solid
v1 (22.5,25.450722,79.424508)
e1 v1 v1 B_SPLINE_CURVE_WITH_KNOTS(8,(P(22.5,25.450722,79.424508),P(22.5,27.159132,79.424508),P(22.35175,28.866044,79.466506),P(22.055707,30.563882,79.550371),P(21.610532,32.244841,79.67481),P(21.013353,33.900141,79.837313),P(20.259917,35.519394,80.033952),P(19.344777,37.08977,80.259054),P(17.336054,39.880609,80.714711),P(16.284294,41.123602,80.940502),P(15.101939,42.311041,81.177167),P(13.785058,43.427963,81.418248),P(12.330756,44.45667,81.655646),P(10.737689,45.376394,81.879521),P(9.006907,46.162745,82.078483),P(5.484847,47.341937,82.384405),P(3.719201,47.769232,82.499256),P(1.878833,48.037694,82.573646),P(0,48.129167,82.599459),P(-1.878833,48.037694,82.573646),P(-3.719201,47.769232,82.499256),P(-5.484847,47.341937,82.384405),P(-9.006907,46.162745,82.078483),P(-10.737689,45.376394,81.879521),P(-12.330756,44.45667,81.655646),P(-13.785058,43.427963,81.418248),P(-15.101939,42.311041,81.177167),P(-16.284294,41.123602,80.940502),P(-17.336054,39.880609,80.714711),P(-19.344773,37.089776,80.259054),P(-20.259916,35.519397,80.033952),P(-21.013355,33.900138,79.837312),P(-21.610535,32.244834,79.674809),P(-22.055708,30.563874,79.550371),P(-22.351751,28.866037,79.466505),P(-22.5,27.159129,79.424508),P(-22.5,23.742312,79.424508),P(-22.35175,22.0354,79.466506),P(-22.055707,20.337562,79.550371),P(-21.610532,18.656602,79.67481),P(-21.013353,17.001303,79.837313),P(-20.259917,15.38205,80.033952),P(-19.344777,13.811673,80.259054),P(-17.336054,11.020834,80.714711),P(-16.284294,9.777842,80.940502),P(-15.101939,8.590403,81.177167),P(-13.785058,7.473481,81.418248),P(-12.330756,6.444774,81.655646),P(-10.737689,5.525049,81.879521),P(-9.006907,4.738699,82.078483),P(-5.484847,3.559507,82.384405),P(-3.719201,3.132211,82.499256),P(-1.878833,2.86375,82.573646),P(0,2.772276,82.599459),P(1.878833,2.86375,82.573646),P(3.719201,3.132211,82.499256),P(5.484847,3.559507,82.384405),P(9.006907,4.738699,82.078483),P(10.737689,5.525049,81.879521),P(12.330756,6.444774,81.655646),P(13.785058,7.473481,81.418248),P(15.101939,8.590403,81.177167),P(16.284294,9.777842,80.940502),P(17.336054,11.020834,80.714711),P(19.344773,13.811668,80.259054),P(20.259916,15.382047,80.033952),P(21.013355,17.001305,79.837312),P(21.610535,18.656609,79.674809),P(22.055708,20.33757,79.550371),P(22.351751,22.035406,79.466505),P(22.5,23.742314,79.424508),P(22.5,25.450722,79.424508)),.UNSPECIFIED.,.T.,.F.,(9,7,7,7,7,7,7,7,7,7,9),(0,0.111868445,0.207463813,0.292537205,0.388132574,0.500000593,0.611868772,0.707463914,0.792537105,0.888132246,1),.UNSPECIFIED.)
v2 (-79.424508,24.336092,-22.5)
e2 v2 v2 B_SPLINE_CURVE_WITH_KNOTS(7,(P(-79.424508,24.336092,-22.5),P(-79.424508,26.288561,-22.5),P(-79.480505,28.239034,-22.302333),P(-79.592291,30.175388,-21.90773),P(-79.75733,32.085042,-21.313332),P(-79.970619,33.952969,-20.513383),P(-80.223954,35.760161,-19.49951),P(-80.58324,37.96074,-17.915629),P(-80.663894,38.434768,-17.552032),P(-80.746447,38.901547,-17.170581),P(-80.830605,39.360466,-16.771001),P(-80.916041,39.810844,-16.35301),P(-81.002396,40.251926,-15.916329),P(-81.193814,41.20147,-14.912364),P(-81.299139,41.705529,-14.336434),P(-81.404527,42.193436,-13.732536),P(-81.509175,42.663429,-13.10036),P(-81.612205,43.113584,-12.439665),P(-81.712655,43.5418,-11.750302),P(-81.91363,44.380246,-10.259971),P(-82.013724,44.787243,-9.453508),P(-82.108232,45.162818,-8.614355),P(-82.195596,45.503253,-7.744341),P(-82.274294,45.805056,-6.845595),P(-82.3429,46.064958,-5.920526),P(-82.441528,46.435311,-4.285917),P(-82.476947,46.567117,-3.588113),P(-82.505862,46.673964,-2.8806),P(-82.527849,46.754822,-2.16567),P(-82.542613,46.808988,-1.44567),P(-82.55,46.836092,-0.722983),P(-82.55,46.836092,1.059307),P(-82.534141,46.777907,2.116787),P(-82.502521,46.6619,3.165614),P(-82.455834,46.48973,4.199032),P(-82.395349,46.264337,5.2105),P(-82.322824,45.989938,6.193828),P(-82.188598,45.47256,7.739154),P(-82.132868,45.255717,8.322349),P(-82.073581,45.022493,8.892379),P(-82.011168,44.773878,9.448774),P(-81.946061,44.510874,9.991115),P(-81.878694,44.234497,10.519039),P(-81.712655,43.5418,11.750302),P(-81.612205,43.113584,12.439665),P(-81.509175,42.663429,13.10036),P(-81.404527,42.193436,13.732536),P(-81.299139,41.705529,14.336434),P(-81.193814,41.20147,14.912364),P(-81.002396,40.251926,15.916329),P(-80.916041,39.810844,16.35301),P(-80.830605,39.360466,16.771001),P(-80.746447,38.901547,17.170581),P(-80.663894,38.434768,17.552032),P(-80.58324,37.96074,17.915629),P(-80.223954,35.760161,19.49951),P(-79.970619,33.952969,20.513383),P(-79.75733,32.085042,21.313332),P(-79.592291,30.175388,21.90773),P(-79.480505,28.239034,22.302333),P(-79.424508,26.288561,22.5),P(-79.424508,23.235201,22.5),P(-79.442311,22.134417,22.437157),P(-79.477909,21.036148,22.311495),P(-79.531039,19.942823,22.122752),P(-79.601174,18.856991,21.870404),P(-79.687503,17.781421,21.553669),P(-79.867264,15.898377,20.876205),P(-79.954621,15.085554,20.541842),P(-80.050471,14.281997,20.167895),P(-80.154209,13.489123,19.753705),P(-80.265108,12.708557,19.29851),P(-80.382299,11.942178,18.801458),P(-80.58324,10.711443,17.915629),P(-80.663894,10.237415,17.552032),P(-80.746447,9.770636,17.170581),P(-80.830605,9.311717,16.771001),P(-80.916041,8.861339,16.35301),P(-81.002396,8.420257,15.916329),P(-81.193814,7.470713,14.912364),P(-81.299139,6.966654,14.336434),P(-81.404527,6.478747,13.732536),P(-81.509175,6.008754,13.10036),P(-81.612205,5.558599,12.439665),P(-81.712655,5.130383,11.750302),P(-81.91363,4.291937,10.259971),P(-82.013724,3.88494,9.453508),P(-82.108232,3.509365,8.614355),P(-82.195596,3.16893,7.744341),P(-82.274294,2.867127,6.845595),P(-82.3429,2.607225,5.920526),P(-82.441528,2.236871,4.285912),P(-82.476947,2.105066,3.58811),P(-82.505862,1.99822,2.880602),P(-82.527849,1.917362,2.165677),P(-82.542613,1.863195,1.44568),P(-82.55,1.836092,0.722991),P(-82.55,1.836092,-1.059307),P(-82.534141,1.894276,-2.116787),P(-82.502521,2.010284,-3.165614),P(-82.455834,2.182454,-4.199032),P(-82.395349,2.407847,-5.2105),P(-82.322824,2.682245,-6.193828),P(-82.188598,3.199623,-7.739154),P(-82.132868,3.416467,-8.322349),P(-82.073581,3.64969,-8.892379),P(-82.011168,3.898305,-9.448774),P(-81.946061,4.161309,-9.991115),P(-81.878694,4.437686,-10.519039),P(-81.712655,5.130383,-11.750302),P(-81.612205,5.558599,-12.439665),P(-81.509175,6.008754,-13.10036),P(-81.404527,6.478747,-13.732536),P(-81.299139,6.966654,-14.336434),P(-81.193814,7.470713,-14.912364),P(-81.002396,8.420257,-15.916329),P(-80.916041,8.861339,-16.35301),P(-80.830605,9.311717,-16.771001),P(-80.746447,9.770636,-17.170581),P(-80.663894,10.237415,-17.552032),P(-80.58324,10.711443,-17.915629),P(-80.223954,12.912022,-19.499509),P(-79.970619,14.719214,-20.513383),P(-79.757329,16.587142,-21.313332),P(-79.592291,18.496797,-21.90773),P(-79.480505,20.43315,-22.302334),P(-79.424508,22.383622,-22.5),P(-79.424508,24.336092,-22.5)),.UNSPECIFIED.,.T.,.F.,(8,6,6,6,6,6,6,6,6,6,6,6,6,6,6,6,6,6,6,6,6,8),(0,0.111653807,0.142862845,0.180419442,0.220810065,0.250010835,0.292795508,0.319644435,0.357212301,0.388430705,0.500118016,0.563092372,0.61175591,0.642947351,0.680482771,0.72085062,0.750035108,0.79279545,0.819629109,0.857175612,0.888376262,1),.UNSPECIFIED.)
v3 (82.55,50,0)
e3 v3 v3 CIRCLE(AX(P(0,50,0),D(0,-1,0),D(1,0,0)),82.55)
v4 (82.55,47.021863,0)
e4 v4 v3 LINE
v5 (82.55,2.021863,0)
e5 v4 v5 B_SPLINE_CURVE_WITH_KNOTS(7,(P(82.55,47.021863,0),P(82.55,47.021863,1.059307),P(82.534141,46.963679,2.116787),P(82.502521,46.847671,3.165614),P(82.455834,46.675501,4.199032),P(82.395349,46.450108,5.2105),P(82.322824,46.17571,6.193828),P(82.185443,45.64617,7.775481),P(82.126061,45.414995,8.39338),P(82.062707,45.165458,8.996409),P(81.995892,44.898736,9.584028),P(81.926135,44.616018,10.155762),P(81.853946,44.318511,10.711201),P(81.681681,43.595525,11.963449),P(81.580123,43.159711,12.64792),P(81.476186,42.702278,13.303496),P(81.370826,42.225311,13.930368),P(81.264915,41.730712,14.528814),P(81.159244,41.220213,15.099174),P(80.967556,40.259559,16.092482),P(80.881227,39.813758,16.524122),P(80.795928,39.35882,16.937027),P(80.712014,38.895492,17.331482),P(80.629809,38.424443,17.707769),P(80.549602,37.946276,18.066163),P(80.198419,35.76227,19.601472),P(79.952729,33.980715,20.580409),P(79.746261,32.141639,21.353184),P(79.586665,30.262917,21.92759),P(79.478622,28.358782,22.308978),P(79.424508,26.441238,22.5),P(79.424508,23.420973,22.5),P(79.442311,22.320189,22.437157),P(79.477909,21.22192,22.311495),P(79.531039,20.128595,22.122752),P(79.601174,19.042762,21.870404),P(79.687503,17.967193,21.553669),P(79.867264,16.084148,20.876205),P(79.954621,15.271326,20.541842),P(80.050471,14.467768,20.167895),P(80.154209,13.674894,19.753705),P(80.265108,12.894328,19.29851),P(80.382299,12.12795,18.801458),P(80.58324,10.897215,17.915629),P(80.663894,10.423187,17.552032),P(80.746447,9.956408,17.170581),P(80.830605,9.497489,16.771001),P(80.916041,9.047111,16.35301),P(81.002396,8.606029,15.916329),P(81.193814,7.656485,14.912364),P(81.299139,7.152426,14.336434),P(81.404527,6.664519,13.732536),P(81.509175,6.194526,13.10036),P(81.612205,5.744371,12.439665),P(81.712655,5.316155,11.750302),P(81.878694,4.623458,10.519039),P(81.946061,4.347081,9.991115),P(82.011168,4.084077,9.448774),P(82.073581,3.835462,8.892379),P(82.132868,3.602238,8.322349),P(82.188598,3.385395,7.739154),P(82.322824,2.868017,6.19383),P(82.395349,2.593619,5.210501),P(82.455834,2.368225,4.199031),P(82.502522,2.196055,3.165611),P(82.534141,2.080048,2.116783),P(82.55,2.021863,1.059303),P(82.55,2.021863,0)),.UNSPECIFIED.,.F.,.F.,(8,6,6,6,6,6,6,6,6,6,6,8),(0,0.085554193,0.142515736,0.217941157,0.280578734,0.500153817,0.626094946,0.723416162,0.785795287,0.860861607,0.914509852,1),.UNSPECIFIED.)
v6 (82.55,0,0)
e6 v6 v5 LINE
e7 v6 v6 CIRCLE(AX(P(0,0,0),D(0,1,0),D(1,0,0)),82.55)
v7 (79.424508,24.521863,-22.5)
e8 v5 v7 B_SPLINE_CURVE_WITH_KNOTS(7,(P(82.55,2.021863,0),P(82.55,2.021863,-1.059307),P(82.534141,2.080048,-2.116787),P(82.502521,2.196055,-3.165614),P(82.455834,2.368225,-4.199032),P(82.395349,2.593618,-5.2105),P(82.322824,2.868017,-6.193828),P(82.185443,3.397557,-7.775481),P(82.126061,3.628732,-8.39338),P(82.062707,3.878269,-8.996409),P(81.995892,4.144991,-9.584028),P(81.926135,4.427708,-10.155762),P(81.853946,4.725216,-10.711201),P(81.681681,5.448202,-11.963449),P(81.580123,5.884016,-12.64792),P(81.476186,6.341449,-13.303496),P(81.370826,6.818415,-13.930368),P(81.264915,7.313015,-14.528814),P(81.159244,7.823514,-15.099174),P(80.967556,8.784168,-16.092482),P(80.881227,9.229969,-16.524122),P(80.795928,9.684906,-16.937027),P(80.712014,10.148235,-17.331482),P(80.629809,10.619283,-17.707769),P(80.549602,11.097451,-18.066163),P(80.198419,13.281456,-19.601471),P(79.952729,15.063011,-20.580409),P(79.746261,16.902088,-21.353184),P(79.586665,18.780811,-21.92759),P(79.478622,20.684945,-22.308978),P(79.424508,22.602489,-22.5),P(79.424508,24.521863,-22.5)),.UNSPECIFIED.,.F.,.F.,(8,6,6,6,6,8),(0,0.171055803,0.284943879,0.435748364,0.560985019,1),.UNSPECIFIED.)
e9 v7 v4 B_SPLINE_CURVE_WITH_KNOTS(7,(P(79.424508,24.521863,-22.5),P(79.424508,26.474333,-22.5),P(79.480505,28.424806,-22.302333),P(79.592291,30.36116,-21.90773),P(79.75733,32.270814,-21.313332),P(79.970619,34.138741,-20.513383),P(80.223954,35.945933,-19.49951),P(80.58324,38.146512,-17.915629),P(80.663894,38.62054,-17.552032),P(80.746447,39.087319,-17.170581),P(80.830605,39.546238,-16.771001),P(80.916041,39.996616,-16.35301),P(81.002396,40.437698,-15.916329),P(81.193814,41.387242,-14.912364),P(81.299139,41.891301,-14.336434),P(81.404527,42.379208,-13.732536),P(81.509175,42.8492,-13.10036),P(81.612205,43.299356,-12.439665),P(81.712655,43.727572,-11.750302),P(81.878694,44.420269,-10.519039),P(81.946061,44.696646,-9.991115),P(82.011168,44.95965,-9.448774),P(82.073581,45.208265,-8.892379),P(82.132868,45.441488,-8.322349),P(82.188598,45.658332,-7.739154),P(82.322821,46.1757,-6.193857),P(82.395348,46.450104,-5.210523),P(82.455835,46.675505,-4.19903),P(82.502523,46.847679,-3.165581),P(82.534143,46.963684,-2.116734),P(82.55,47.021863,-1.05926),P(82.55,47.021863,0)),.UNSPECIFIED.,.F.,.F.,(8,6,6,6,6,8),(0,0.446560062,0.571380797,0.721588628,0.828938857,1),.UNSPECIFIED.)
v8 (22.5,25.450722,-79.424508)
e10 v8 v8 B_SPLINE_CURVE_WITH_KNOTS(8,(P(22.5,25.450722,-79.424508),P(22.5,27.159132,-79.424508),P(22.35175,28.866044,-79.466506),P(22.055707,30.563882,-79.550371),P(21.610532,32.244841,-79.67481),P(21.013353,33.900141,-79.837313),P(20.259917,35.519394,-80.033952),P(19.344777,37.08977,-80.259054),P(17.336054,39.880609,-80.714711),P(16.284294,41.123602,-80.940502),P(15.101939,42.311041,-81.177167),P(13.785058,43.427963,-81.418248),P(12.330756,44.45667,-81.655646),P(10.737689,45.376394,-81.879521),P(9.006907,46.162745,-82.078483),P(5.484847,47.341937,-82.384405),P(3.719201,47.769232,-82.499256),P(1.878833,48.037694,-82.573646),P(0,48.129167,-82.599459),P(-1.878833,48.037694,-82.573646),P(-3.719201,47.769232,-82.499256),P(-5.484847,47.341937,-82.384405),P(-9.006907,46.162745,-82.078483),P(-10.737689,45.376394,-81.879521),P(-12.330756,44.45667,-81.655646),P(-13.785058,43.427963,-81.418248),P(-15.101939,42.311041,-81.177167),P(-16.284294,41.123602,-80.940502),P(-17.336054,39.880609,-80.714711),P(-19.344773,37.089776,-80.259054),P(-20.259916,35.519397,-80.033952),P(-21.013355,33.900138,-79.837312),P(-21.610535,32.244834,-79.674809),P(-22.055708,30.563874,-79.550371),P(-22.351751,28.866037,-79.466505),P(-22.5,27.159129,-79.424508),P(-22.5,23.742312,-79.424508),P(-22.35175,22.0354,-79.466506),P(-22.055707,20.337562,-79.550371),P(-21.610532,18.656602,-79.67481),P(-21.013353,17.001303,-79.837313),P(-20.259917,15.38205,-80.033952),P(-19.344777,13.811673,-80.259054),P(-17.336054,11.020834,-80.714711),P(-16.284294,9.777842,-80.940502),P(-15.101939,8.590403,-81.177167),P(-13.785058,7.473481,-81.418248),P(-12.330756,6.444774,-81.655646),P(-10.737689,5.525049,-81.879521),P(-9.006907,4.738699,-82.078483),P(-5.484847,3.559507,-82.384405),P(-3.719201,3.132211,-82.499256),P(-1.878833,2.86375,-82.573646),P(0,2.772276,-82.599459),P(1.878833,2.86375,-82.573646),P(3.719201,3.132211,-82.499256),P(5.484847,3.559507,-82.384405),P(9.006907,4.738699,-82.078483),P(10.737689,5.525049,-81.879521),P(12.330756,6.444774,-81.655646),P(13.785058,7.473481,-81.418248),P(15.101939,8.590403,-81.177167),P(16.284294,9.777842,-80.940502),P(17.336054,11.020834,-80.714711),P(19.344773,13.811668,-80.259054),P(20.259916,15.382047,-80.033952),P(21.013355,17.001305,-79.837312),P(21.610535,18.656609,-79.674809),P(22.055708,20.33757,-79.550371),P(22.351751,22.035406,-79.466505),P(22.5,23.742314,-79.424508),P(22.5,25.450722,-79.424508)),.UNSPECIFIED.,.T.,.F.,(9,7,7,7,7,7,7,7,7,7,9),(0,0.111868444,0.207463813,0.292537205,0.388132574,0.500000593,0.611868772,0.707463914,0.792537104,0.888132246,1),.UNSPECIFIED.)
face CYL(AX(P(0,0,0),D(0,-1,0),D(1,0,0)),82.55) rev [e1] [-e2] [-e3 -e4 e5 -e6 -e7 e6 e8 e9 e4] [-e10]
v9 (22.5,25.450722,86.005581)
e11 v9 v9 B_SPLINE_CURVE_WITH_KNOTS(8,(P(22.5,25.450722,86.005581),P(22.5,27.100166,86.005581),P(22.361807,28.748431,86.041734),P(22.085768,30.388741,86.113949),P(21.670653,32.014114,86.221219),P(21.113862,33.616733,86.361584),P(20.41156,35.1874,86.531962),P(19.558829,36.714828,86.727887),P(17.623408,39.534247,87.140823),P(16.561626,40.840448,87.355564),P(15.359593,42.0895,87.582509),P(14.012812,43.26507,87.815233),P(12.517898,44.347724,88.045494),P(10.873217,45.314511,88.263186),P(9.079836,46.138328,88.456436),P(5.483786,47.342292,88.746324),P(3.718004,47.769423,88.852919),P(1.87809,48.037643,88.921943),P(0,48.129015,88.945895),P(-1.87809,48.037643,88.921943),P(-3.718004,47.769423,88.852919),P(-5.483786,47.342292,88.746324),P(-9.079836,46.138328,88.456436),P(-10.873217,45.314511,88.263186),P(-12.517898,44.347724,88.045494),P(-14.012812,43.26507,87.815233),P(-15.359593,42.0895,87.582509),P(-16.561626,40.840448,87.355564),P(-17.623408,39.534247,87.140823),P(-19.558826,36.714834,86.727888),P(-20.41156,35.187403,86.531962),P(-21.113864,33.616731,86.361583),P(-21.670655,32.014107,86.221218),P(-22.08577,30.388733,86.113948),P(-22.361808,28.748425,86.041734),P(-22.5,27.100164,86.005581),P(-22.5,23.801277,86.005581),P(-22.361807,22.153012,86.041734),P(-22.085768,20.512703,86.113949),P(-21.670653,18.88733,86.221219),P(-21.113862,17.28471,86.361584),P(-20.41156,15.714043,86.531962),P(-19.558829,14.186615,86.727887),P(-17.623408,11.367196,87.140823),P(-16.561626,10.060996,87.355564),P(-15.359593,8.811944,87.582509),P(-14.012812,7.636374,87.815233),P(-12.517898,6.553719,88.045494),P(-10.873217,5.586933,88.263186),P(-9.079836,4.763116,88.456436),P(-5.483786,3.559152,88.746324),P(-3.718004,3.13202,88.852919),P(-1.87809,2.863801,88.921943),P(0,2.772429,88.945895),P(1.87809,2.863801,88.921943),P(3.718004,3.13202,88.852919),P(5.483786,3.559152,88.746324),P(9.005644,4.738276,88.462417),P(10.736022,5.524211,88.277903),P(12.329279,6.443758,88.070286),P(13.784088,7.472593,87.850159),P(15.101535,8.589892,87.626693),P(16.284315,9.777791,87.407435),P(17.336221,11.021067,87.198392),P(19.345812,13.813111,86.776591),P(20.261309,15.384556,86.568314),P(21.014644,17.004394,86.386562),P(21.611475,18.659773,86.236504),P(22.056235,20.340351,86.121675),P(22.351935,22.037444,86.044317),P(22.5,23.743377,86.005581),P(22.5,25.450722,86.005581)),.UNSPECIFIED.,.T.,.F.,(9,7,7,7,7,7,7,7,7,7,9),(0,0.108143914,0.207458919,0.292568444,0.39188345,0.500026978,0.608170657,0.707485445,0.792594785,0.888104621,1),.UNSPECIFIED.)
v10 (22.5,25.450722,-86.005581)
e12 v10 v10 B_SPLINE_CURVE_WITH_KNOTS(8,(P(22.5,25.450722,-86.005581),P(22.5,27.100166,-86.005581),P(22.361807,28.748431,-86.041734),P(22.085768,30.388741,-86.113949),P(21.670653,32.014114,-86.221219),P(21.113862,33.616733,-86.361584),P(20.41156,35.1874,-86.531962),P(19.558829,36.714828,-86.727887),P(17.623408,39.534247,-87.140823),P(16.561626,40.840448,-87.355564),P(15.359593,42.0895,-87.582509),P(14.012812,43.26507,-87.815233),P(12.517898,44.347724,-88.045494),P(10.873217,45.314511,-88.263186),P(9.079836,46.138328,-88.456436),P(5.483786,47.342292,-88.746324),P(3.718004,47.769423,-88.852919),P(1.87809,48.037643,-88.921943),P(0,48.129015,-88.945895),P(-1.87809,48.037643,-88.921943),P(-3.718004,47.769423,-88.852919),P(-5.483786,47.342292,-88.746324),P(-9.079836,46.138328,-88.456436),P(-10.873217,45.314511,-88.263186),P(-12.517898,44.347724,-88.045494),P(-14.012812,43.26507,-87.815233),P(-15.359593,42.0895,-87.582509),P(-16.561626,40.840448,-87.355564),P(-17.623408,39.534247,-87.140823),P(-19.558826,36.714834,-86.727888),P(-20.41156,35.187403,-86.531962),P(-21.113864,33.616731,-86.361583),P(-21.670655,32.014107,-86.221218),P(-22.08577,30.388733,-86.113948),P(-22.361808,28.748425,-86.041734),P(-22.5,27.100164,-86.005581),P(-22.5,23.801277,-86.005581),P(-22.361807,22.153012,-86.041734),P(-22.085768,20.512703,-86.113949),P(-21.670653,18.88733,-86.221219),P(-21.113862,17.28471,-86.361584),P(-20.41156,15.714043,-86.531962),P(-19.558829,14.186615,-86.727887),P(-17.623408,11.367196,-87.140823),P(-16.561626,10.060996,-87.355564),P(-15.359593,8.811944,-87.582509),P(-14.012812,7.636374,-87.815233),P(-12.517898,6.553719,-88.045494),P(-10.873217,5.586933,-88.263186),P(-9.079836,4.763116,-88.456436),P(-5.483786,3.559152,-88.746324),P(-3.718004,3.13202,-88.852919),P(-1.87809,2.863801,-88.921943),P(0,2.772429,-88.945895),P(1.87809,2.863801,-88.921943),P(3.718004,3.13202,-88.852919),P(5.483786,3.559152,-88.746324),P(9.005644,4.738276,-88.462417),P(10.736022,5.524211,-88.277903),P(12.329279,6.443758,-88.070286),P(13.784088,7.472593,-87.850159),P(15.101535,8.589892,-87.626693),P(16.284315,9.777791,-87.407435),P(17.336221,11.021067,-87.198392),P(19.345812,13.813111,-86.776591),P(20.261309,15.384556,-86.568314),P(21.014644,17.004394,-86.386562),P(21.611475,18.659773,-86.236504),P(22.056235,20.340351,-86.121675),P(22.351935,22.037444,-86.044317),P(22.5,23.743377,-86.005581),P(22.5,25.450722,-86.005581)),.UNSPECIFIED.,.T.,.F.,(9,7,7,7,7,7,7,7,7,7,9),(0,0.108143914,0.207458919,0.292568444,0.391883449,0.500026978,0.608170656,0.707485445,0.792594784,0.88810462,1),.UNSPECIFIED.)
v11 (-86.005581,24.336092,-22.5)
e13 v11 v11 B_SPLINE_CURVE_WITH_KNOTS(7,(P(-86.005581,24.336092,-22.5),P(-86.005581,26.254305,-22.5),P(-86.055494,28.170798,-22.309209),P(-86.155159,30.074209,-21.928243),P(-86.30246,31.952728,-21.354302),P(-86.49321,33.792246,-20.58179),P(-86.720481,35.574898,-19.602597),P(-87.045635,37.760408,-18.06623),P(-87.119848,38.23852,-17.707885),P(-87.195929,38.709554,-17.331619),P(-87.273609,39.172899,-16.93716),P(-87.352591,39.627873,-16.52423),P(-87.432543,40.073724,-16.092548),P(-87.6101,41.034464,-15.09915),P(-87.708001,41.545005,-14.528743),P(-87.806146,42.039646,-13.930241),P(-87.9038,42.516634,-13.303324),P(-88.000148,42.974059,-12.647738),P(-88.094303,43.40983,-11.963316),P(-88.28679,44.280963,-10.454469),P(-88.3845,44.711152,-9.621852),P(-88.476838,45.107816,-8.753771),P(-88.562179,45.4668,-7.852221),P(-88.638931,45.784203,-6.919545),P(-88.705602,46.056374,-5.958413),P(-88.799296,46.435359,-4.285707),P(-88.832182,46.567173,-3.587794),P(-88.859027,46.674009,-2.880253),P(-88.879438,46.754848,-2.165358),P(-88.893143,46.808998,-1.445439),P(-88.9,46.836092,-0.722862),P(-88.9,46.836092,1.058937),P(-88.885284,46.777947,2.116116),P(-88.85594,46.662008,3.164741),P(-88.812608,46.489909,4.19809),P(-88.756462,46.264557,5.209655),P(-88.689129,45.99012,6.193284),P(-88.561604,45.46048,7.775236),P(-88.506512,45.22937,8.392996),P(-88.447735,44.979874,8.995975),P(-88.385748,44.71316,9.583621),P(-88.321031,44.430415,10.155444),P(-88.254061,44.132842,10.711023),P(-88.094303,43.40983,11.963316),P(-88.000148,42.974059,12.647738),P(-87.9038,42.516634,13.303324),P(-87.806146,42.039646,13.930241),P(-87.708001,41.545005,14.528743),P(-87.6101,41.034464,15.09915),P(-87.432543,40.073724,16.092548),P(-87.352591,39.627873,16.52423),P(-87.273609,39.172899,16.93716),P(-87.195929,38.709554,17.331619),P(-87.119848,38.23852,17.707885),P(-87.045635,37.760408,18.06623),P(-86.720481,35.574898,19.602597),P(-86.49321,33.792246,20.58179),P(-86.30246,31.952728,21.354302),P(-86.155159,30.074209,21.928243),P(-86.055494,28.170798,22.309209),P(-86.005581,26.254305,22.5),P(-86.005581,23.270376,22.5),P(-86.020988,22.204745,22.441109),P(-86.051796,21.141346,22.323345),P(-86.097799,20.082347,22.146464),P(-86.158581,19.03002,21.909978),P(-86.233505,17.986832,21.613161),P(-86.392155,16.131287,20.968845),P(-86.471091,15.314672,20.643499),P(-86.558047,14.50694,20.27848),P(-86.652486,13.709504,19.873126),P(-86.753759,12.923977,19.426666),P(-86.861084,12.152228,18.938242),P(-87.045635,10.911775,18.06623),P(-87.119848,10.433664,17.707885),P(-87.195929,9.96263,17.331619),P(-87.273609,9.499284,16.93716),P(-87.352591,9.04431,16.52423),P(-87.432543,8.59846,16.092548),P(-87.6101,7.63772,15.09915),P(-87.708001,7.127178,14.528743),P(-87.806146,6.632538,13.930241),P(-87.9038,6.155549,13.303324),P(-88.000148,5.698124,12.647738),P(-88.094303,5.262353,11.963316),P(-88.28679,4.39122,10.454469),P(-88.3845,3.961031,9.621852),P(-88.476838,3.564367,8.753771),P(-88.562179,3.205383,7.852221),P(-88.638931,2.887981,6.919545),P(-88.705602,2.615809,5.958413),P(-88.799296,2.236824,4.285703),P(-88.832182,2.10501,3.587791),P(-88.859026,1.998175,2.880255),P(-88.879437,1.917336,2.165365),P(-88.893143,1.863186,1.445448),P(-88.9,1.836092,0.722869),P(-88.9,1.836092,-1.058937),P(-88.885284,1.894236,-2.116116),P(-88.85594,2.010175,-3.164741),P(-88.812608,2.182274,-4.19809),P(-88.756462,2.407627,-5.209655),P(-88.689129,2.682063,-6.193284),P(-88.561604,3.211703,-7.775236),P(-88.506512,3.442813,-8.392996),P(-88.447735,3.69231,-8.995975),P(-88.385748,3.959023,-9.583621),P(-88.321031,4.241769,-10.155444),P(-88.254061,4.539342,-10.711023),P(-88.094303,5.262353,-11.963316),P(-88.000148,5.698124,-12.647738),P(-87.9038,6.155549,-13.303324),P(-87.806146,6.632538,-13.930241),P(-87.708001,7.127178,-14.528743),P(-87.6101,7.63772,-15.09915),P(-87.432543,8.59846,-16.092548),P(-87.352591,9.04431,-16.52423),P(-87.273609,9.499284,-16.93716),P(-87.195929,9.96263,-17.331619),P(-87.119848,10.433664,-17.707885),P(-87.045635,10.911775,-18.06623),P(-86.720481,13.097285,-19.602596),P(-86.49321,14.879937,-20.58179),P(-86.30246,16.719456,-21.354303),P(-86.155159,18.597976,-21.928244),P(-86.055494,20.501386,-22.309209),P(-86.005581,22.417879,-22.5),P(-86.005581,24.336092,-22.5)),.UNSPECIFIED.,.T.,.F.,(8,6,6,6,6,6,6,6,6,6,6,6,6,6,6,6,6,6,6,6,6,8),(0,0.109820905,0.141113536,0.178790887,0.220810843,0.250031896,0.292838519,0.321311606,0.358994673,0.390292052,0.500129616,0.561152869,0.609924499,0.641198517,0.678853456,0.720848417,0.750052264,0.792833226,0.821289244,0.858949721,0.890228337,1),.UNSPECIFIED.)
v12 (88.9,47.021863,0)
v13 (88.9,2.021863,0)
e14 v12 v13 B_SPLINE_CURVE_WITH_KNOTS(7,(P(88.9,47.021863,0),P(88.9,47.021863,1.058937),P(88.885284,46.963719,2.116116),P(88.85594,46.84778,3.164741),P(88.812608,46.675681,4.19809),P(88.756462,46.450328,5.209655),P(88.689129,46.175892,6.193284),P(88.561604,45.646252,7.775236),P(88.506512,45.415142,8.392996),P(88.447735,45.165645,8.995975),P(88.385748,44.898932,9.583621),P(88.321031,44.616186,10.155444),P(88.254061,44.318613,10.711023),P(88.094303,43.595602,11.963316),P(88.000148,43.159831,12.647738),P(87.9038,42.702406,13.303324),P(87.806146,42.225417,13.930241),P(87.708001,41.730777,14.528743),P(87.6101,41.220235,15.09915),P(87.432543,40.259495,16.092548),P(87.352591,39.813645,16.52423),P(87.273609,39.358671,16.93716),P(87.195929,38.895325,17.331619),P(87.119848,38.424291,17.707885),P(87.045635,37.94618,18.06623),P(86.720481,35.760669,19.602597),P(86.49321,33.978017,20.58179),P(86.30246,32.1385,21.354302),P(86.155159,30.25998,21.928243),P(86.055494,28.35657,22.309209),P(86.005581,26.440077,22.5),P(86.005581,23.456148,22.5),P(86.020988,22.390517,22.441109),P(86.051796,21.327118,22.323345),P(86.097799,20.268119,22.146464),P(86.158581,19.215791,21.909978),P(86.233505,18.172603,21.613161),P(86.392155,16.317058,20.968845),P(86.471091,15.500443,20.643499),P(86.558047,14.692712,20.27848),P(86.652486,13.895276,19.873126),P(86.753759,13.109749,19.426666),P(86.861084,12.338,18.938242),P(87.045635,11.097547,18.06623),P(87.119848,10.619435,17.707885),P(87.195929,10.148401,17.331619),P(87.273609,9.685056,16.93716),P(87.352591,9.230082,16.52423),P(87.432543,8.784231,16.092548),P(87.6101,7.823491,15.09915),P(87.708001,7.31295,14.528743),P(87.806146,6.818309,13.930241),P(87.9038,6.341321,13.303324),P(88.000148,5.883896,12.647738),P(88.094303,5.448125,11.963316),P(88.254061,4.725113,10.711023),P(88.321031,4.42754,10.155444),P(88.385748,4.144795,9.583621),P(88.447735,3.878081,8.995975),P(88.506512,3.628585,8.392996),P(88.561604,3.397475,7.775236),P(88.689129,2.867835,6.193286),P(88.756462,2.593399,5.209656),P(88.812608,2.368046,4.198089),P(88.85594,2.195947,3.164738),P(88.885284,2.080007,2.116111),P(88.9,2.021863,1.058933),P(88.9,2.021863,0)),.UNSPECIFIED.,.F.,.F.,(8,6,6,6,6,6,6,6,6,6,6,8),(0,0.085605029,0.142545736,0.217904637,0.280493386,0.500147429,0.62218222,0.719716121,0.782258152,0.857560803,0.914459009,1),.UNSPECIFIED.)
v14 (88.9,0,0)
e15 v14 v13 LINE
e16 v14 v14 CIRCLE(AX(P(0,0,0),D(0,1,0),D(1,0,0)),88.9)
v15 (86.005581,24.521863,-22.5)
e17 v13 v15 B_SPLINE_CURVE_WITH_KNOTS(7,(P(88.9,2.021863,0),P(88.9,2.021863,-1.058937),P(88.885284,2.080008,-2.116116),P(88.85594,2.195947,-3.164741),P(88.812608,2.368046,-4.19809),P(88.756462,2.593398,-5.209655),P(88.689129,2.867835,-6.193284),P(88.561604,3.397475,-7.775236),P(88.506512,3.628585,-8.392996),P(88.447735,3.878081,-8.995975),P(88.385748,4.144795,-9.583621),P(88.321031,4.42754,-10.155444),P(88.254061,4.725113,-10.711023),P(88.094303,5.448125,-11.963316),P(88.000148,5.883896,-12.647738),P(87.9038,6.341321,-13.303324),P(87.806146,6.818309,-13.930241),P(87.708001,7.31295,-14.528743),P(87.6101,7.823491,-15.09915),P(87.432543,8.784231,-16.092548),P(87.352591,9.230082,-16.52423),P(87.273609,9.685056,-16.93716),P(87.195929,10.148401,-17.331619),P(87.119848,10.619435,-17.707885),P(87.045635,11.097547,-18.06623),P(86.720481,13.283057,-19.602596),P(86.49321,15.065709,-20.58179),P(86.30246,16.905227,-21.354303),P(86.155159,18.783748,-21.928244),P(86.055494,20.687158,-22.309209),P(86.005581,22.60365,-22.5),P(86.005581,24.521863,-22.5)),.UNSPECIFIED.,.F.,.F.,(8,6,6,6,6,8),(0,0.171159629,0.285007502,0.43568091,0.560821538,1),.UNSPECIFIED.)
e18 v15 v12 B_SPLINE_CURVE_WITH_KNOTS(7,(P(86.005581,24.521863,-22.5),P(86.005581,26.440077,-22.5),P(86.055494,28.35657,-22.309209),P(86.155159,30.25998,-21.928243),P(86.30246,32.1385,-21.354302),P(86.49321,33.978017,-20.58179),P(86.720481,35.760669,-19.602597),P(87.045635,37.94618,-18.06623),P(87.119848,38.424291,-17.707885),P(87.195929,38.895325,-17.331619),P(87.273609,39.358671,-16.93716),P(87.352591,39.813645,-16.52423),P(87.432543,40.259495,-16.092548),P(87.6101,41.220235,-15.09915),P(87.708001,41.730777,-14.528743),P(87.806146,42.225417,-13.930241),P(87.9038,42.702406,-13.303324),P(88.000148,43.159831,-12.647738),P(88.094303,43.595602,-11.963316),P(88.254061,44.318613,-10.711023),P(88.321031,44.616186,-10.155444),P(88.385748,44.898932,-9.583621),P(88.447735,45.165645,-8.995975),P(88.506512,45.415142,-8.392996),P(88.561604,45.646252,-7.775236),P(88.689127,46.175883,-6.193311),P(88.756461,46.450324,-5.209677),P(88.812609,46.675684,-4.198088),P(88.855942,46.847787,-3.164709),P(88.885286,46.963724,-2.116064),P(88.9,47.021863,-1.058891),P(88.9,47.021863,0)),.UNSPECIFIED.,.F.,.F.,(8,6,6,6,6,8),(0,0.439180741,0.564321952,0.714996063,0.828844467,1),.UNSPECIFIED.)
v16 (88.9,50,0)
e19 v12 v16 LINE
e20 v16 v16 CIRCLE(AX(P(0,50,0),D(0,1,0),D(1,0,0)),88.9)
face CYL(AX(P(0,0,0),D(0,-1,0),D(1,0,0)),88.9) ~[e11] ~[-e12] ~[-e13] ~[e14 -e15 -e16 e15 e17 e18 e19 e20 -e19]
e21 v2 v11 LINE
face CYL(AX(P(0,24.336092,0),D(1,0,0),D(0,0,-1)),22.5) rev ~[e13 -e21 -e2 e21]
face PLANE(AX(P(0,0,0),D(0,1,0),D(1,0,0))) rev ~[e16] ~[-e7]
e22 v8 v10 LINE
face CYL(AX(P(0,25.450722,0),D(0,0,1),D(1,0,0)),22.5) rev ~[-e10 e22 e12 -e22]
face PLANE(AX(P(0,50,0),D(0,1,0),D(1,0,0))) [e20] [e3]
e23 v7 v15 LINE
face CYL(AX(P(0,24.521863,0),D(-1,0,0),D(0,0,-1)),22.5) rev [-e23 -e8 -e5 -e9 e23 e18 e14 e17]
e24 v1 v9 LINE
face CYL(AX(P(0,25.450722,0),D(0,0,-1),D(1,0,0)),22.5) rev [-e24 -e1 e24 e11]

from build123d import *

# Parameters (mm, degrees)
SKETCH1_R           = 88.9
BOSS_EXTRUDE1_DEPTH = 50
SKETCH2_R           = 82.55
CUT_EXTRUDE4_DEPTH  = 74
SKETCH12_R          = 22.5
CUT_EXTRUDE5_DEPTH  = 115.64
SKETCH13_R          = 22.5
CUT_EXTRUDE6_DEPTH  = 115.64
SKETCH14_R          = 22.5
CUT_EXTRUDE7_DEPTH  = 99.64
CUT_EXTRUDE8_START  = 137.64
SKETCH15_R          = 22.5
CUT_EXTRUDE8_DEPTH  = 137.64


with BuildPart() as part:
    # Sketch1 → Boss-Extrude1 (new body)
    with BuildSketch(Plane(origin=(0, 0, 0), x_dir=(1, 0, 0), z_dir=(0, 1, 0))):
        Circle(SKETCH1_R)
    extrude(amount=BOSS_EXTRUDE1_DEPTH)

    # Sketch2 → Cut-Extrude4 (cut)
    with BuildSketch(Plane(origin=(0, 0, 0), x_dir=(1, 0, 0), z_dir=(0, 1, 0))):
        Circle(SKETCH2_R)
    extrude(amount=CUT_EXTRUDE4_DEPTH, mode=Mode.SUBTRACT)

    # Sketch12 → Cut-Extrude5 (cut)
    with BuildSketch(Plane(origin=(0, 0, 0), x_dir=(0, 0, -1), z_dir=(1, 0, 0))):
        with Locations((0, 24.336091646)):
            Circle(SKETCH12_R)
    extrude(amount=-CUT_EXTRUDE5_DEPTH, mode=Mode.SUBTRACT)

    # Sketch13 → Cut-Extrude6 (cut)
    with BuildSketch(Plane.XY):
        with Locations((0, 25.450721797)):
            Circle(SKETCH13_R)
    extrude(amount=-CUT_EXTRUDE6_DEPTH, mode=Mode.SUBTRACT)

    # Sketch14 → Cut-Extrude7 (cut)
    with BuildSketch(Plane(origin=(0, 0, 0), x_dir=(0, 0, -1), z_dir=(1, 0, 0))):
        with Locations((0, 24.521863338)):
            Circle(SKETCH14_R)
    extrude(amount=CUT_EXTRUDE7_DEPTH, mode=Mode.SUBTRACT)

    # Sketch15 → Cut-Extrude8 (cut)
    with BuildSketch(Plane.XY.offset(CUT_EXTRUDE8_START)):
        with Locations((0, 25.450721797)):
            Circle(SKETCH15_R)
    extrude(amount=-CUT_EXTRUDE8_DEPTH, mode=Mode.SUBTRACT)


solid = part.part
